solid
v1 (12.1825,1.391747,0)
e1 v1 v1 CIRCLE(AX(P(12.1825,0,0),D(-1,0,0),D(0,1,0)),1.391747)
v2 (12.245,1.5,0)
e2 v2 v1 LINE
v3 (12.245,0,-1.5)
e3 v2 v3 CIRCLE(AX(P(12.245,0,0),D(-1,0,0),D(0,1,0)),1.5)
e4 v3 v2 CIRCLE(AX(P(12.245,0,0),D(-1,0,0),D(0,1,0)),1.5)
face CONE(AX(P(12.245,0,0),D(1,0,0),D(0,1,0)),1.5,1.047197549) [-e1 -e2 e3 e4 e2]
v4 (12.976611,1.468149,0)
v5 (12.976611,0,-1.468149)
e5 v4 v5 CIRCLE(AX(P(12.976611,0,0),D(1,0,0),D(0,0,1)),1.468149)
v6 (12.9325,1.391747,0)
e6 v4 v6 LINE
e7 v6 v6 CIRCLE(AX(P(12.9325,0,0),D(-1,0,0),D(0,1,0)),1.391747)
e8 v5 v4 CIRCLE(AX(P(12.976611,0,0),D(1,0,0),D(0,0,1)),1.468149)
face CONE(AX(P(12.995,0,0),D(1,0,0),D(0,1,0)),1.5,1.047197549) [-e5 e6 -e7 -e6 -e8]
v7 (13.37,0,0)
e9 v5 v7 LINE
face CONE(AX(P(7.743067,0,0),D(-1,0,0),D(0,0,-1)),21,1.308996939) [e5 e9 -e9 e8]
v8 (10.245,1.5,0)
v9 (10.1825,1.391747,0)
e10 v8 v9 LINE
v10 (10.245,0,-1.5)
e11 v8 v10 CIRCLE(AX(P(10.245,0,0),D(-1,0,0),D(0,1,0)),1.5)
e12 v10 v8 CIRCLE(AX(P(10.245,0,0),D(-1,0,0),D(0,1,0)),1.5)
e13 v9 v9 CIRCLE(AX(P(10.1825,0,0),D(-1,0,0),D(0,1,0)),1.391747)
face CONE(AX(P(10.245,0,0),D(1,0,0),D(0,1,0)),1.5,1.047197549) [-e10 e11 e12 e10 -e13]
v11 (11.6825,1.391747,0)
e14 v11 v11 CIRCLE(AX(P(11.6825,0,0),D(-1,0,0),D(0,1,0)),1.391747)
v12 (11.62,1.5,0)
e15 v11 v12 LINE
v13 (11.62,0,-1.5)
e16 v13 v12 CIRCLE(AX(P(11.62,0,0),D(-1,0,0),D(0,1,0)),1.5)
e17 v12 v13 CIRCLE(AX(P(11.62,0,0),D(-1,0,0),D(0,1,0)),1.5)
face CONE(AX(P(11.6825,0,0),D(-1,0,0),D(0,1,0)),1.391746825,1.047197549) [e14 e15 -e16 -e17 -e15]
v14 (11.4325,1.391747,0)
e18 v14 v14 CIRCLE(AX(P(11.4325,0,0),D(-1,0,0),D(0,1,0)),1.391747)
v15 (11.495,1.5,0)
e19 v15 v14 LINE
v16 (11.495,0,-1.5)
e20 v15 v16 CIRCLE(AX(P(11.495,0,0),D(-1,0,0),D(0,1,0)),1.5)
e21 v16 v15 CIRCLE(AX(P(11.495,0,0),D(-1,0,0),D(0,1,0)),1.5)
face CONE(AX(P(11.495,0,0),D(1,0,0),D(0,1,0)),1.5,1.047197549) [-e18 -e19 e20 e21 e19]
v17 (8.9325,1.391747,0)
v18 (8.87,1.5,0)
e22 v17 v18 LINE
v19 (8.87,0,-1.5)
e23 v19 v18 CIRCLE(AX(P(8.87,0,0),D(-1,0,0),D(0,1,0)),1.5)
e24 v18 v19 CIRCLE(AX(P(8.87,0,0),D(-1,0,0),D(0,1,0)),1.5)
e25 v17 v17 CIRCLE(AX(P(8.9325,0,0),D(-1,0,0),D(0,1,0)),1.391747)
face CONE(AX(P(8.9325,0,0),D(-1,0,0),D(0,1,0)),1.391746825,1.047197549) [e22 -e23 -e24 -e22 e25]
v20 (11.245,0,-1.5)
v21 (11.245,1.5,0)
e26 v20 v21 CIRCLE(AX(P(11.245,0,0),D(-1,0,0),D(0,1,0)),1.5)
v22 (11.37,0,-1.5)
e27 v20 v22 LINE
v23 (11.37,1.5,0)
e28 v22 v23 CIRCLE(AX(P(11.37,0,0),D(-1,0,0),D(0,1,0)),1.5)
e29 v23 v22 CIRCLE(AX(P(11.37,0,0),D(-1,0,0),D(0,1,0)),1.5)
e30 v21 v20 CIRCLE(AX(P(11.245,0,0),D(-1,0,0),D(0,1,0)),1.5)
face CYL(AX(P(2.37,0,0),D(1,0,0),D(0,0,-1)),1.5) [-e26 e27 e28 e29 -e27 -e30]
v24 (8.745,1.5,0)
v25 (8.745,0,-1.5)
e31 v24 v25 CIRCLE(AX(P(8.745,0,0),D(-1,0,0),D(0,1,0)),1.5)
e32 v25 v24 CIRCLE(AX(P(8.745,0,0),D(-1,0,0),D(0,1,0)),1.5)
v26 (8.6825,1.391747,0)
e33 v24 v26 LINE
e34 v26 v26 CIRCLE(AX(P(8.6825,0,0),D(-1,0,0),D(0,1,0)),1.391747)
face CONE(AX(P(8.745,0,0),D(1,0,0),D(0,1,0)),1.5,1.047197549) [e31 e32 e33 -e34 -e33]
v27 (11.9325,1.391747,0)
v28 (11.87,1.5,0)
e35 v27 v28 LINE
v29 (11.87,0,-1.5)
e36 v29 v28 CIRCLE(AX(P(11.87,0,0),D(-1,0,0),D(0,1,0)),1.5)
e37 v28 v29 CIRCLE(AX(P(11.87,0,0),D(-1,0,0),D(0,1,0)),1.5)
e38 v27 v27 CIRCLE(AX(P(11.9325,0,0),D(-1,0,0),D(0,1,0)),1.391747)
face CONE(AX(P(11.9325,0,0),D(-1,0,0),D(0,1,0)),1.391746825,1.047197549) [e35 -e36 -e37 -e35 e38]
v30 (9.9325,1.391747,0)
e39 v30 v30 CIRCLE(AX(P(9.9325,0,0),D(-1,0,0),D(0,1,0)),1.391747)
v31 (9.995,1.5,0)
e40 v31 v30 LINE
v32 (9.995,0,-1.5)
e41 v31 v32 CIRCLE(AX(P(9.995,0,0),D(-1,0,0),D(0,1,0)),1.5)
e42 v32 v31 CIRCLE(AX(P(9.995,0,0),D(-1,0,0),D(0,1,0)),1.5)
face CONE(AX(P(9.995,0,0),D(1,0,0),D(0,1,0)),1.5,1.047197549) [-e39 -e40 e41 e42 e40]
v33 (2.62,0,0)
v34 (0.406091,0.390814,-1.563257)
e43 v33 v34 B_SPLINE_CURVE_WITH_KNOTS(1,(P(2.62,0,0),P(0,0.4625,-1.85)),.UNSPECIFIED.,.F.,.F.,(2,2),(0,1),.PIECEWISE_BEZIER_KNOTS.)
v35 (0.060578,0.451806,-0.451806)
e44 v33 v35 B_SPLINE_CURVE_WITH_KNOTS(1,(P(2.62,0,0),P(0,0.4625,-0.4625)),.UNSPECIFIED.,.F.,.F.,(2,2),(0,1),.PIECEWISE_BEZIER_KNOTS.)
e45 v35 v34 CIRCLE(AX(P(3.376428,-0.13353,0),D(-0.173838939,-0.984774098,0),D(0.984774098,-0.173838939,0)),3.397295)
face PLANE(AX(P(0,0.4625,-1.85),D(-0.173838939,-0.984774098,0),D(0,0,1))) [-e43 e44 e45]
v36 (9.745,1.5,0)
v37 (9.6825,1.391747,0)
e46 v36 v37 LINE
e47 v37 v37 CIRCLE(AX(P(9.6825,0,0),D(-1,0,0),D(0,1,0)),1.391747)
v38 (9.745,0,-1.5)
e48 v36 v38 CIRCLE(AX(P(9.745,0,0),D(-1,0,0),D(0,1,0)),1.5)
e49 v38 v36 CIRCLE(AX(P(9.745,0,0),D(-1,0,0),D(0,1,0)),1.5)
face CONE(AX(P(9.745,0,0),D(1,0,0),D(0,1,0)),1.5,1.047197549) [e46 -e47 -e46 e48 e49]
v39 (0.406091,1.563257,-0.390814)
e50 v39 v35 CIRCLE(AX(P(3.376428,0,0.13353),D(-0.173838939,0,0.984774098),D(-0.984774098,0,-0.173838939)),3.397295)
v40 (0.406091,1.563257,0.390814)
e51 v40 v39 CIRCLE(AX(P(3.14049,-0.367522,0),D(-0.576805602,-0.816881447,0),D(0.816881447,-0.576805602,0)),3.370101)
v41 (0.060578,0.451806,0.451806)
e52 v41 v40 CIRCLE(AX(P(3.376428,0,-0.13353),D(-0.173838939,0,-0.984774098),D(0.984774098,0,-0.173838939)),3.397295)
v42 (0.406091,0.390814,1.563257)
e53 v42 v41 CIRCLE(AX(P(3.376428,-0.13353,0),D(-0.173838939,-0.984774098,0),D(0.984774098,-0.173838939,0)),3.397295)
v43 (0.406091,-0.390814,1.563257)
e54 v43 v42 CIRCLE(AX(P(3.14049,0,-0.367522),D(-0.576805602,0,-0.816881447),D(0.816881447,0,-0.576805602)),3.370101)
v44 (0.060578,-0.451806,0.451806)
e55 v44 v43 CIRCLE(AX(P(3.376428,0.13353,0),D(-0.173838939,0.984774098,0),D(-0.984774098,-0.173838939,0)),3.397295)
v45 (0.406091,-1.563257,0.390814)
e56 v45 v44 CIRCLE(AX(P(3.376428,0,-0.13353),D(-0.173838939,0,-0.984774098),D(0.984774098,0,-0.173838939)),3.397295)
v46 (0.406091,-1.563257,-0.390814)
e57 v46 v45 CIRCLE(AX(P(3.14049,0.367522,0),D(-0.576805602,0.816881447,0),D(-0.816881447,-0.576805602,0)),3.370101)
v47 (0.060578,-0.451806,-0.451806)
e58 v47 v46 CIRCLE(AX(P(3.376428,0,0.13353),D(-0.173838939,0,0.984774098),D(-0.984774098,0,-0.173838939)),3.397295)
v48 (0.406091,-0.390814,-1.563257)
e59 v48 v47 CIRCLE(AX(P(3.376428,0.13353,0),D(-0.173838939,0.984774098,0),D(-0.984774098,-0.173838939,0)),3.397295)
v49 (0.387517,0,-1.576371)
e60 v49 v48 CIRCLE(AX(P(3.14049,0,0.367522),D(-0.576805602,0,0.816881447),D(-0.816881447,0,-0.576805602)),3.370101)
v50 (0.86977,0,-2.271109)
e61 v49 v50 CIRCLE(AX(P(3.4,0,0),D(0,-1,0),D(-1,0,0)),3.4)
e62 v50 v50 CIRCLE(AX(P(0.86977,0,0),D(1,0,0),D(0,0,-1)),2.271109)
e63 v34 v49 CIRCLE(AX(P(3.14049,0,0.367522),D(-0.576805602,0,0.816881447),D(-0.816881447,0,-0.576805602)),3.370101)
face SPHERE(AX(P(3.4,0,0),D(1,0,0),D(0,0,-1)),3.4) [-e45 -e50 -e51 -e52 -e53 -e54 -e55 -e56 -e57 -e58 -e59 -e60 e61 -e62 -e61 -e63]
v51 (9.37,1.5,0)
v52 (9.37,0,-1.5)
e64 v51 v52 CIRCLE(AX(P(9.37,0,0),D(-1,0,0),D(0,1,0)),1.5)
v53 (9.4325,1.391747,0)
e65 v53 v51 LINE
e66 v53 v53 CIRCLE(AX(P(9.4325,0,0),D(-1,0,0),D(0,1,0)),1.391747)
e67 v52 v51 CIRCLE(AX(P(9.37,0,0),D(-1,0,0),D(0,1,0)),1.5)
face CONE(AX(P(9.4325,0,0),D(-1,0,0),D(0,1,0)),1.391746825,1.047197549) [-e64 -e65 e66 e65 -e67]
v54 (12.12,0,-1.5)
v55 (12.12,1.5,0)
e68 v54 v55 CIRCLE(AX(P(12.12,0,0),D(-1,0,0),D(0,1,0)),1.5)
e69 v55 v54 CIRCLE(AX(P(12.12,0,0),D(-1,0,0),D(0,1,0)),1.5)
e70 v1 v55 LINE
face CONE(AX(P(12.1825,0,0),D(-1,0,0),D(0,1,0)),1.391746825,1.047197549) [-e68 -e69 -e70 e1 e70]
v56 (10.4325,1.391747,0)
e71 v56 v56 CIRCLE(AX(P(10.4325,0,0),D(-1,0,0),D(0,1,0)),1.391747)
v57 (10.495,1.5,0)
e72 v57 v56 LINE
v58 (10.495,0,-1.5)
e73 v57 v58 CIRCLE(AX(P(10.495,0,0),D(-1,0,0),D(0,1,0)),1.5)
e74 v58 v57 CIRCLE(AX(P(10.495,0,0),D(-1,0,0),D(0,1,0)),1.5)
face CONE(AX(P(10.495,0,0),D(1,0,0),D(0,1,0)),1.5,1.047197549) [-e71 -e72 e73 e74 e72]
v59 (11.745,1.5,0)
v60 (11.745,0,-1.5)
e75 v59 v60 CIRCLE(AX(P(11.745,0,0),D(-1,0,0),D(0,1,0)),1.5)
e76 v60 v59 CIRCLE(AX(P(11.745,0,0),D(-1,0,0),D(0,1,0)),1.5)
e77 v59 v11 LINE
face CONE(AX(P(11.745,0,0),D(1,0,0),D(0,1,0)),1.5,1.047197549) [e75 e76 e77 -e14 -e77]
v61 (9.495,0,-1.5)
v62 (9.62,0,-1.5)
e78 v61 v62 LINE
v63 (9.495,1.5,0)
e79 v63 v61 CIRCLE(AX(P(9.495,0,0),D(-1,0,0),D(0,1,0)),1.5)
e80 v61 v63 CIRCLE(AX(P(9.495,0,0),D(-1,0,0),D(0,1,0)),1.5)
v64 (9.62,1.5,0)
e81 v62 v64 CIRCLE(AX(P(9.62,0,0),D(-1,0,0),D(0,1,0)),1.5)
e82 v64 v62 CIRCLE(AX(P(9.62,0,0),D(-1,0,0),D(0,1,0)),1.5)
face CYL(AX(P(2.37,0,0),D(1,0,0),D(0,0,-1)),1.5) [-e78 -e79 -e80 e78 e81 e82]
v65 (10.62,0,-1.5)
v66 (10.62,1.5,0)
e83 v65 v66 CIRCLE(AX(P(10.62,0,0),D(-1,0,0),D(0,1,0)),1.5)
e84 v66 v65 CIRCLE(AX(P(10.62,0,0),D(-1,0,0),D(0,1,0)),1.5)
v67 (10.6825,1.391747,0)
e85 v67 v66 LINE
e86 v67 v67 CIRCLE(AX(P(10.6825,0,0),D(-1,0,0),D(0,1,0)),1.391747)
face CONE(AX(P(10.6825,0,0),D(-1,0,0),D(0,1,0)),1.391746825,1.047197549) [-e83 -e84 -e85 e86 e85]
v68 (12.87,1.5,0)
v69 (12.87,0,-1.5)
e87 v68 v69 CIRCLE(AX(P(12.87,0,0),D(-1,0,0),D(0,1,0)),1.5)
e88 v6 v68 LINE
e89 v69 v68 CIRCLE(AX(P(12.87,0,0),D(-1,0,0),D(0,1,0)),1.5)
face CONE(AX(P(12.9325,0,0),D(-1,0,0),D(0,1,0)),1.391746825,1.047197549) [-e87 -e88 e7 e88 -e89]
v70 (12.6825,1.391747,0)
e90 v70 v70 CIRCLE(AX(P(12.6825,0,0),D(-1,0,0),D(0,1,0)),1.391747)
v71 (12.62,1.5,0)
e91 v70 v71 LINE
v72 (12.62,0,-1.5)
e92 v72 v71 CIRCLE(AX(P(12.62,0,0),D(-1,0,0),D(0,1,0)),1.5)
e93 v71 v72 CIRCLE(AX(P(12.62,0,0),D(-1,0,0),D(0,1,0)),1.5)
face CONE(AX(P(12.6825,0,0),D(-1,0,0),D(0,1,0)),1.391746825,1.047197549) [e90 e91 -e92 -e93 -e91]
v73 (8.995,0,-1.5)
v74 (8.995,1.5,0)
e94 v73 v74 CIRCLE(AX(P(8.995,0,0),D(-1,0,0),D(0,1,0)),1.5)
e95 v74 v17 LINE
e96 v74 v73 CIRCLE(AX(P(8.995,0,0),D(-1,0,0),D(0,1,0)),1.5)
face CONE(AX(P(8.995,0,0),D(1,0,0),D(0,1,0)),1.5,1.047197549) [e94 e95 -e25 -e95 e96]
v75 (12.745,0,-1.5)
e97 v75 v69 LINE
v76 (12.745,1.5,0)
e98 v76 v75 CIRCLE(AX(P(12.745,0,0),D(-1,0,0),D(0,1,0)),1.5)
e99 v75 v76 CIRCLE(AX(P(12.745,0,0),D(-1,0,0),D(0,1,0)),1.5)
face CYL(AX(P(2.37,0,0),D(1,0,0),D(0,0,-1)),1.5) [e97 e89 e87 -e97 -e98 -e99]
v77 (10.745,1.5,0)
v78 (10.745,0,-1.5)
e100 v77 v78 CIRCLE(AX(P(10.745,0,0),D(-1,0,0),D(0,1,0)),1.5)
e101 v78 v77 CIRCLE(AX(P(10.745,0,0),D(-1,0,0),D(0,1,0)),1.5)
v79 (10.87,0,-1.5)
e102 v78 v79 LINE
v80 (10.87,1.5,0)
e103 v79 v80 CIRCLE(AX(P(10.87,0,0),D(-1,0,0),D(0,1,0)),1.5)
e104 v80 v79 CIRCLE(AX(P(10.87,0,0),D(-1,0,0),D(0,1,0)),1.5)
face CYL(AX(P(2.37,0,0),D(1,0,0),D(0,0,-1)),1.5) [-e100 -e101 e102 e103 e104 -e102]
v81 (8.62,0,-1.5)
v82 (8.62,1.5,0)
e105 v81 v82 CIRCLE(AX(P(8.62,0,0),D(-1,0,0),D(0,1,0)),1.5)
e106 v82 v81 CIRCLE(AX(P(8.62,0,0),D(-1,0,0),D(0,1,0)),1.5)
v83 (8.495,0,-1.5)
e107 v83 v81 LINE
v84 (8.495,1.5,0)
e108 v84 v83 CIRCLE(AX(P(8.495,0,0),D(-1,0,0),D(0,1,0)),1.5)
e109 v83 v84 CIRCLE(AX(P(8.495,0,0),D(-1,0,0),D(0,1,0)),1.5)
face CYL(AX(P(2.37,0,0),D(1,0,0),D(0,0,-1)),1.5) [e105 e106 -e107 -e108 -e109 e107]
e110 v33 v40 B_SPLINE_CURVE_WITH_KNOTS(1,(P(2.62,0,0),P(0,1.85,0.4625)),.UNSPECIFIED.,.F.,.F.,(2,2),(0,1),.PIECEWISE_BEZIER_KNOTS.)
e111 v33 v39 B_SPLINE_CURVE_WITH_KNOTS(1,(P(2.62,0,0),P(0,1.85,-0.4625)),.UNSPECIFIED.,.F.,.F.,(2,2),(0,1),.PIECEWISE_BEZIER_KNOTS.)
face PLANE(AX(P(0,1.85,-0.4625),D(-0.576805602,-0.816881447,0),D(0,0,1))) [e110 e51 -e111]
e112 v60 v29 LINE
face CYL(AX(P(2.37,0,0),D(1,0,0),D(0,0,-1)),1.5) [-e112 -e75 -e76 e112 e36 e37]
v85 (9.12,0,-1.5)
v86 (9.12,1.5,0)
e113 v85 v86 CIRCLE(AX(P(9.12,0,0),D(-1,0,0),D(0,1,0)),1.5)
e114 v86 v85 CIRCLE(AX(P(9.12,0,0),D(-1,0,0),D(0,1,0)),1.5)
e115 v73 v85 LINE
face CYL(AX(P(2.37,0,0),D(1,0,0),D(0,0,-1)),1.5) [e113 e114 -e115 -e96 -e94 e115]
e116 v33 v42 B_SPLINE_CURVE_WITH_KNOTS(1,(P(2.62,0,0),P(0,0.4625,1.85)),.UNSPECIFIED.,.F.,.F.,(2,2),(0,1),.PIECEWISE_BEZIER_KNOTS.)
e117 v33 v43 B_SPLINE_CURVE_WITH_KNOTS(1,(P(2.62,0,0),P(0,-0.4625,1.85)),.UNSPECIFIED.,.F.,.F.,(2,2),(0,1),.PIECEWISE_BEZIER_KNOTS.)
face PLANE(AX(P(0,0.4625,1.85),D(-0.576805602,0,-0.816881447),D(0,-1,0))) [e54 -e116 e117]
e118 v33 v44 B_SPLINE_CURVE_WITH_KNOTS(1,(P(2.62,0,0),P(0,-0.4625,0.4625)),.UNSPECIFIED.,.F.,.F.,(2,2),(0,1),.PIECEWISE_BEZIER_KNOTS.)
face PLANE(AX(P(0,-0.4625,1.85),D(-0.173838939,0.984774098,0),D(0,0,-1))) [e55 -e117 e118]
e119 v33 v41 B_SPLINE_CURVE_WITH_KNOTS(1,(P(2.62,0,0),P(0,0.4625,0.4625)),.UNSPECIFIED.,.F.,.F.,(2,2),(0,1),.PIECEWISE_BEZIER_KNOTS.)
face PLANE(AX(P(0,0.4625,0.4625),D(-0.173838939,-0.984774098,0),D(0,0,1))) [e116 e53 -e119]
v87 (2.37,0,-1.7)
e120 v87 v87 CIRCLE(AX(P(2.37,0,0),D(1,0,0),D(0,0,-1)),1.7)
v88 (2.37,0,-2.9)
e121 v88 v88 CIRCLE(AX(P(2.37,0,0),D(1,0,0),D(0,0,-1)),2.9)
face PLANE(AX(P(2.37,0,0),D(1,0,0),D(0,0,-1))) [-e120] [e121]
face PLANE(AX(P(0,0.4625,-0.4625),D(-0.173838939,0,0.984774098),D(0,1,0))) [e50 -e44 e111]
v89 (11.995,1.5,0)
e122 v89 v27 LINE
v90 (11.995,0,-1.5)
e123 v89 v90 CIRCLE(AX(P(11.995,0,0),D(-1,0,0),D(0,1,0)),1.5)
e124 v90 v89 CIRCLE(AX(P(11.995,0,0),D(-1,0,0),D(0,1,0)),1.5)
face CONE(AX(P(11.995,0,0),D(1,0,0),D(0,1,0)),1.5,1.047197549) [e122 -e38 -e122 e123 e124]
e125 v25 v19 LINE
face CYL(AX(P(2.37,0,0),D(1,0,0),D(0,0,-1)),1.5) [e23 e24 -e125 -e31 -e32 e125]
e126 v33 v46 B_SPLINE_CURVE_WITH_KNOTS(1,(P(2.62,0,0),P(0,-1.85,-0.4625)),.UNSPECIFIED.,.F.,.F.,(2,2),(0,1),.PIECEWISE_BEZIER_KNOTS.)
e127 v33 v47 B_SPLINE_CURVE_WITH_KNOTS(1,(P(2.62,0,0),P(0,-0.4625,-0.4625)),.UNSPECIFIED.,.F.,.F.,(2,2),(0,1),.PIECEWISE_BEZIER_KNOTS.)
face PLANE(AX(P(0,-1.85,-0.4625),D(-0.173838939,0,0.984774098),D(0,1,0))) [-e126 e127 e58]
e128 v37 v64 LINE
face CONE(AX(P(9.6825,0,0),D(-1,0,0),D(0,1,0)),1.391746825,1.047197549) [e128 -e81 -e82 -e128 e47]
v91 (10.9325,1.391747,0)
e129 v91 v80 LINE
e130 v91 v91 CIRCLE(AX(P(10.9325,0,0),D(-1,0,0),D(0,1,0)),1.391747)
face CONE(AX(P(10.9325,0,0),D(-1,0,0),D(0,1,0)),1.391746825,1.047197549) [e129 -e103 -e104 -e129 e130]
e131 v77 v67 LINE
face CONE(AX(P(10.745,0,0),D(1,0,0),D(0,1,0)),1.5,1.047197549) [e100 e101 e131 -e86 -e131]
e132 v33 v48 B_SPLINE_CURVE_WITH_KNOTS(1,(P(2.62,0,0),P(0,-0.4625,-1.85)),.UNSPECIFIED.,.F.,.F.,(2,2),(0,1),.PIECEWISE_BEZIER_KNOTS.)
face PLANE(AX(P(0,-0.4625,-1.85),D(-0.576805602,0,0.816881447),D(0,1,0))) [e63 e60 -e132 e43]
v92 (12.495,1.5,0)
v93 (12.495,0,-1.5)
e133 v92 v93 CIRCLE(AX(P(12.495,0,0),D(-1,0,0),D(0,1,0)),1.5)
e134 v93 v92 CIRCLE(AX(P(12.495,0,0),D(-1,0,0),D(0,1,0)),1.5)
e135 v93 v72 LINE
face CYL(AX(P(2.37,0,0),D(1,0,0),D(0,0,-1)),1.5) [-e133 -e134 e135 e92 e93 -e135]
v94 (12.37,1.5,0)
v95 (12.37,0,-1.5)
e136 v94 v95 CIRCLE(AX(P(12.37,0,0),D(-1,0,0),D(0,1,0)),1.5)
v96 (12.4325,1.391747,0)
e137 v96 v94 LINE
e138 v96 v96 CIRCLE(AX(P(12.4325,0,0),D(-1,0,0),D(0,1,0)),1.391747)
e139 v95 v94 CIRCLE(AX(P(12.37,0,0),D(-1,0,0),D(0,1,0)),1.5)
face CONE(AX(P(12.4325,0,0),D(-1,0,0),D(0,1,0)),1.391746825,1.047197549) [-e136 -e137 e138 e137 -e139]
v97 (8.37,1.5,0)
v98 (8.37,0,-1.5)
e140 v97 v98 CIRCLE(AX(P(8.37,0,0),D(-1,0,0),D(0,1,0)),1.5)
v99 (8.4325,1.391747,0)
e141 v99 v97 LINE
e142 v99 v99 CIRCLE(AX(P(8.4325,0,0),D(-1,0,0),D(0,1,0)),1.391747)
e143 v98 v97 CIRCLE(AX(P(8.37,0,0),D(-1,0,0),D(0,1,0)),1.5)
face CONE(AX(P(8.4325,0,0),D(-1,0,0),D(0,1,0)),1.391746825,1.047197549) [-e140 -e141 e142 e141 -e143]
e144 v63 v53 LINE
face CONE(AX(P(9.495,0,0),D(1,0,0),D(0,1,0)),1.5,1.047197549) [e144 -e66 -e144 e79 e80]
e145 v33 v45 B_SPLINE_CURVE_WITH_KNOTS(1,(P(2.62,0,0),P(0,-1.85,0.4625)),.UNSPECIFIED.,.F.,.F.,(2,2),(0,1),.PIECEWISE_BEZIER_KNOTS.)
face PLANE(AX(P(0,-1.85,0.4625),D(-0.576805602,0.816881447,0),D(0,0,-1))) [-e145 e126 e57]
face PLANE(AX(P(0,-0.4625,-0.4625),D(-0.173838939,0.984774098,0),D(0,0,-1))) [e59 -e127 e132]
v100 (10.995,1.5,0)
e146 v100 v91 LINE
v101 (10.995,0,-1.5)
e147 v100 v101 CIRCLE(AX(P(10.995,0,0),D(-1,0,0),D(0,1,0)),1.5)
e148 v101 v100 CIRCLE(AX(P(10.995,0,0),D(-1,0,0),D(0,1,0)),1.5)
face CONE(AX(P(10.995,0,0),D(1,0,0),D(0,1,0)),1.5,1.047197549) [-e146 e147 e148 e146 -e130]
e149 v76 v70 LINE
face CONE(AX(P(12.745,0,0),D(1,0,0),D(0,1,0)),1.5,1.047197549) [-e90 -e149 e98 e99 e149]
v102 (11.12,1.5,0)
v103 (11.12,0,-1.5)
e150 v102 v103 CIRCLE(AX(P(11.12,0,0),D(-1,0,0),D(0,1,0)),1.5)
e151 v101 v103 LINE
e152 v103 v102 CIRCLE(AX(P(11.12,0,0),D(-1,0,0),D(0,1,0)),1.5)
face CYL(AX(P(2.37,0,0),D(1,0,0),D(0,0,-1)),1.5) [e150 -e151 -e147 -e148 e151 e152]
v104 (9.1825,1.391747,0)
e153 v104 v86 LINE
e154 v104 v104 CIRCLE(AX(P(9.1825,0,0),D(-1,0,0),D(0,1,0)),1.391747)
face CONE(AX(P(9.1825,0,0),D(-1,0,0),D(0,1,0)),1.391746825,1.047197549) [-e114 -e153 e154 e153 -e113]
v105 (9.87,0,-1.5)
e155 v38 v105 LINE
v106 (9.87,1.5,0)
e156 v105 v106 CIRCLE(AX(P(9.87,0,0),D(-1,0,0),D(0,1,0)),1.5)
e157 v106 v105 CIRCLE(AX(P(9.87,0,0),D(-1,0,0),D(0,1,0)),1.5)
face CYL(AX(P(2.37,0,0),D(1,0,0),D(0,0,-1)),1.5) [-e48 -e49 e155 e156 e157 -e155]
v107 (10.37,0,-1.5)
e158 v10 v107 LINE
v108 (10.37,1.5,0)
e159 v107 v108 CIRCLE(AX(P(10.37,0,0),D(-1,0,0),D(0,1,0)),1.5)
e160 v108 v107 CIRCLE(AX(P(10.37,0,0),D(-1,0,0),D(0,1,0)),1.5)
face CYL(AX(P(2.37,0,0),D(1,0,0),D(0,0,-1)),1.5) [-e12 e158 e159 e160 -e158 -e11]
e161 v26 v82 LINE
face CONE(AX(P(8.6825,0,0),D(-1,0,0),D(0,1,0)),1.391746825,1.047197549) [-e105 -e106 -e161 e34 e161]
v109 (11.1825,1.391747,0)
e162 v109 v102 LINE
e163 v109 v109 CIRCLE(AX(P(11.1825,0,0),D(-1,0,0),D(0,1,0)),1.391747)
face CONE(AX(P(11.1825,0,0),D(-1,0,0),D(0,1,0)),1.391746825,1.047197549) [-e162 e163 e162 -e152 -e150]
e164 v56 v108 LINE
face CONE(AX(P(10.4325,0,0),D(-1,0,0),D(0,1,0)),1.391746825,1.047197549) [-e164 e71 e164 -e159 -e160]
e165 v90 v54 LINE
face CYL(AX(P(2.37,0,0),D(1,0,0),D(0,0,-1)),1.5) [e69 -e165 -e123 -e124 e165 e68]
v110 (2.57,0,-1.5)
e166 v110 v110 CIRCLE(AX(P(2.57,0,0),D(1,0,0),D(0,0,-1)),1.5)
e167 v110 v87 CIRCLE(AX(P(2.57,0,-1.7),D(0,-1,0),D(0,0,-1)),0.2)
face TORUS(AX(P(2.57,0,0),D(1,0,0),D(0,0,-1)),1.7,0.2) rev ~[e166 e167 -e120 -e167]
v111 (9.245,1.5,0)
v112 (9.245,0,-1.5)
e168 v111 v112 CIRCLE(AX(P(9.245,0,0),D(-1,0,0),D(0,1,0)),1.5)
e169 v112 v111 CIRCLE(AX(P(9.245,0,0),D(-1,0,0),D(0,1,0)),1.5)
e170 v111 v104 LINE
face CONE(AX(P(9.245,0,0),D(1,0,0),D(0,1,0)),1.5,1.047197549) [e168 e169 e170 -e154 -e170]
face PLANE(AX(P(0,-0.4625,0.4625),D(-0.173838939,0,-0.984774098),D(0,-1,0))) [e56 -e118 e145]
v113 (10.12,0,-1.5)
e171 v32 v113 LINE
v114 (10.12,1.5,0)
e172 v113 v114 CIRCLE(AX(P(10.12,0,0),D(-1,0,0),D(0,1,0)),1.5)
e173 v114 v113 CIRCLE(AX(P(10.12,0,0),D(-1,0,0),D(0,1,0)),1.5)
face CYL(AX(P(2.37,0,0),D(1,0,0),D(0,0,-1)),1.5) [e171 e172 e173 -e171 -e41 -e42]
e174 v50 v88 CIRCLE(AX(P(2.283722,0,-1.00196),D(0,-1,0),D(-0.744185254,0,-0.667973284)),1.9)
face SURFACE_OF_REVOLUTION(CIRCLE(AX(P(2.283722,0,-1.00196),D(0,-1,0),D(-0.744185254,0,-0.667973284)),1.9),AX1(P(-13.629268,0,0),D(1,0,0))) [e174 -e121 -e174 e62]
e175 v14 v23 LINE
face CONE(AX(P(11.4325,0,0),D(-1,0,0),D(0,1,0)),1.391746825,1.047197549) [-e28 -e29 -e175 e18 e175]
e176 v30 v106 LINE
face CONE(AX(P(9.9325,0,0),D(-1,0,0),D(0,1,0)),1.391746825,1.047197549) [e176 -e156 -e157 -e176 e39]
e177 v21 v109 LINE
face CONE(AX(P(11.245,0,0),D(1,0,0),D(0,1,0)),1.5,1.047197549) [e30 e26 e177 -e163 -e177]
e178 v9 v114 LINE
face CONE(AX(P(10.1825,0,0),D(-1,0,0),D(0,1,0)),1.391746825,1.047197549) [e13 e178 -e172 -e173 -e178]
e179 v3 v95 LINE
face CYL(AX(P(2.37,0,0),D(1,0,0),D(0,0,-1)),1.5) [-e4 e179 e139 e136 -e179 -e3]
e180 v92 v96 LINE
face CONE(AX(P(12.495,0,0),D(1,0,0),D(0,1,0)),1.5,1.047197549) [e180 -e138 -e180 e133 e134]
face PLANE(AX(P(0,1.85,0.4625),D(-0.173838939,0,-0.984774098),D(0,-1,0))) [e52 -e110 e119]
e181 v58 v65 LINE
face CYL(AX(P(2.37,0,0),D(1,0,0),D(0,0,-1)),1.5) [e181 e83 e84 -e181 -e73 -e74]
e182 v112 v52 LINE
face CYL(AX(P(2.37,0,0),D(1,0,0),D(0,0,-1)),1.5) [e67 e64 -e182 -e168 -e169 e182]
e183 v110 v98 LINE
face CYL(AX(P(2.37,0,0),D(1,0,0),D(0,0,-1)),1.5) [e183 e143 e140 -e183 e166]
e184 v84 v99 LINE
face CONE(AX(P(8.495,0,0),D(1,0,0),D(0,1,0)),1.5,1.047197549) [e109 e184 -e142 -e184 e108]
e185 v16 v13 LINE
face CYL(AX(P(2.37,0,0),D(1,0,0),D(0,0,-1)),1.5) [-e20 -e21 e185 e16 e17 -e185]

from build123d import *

# Parameters (mm, degrees)
FILLET2_R        = 0.2
LPATTERN10_COUNT = 20
LPATTERN10_PITCH = 0.25


with BuildPart() as part:
    # Sketch1 → Revolve1 (revolve)
    with BuildSketch(Plane(origin=(0, 0, 0), x_dir=(1, 0, 0), z_dir=(0, 1, 0))):
        with BuildLine():
            Line((2.37, 1.5), (13.37, 1.5))
            Line((13.37, 1.5), (13.37, 0))
            Line((13.37, 0), (0, 0))
            ThreePointArc((0, 0), (0.224879408, 1.215980768), (0.869770135, 2.271109163))
            ThreePointArc((0.869770135, 2.271109163), (1.549177667, 2.754228297), (2.37, 2.9))
            Line((2.37, 2.9), (2.37, 1.5))
        make_face()
    revolve(axis=Axis((-13.629268293, 0, 0), (1, 0, 0)))

    # Fillet2
    fillet2_edges = [part.edges().sort_by_distance(p)[0] for p in [
        (2.37, 0, 1.5),
    ]]
    fillet(fillet2_edges, radius=FILLET2_R)

    # Sketch4 → Cut-Revolve1 (revolve, cut)
    with BuildSketch(Plane(origin=(0, 0, 0), x_dir=(1, 0, 0), z_dir=(0, 1, 0))):
        Polygon((14.103454633, 0), (14.103454633, 21), (7.743066959, 21), (13.37, 0), align=None)
    revolve(axis=Axis((4.782773752, 0, 0), (1, 0, 0)), mode=Mode.SUBTRACT)

    # Sketch2 → Cut-Loft1 section 0
    with BuildSketch(Plane(origin=(0, 0, 0), x_dir=(0, 0, -1), z_dir=(1, 0, 0)), mode=Mode.PRIVATE) as cut_loft1_s0:
        Polygon((-0.4625, 0.4625), (-1.85, 0.4625), (-1.85, -0.4625), (-0.4625, -0.4625), (-0.4625, -1.85), (0.4625, -1.85), (0.4625, -0.4625), (1.85, -0.4625), (1.85, 0.4625), (0.4625, 0.4625), (0.4625, 1.85), (-0.4625, 1.85), align=None)
    loft([Vertex(2.62, 0, 0), cut_loft1_s0.sketch], mode=Mode.SUBTRACT)

    # Sketch6 → Cut-Revolve10 (revolve, cut)
    with BuildSketch(Plane.XY):
        Polygon((8.37, 1.7), (8.495, 1.7), (8.495, 1.5), (8.4325, 1.391746825), (8.37, 1.5), align=None)
    cut_revolve10 = revolve(axis=Axis((10.774329131, 0, 0), (-1, 0, 0)), mode=Mode.SUBTRACT)

    # LPattern10: Cut-Revolve10 ×20
    with Locations(*[(i * LPATTERN10_PITCH, 0, 0) for i in range(1, LPATTERN10_COUNT)]):
        add(cut_revolve10, mode=Mode.SUBTRACT)


solid = part.part
